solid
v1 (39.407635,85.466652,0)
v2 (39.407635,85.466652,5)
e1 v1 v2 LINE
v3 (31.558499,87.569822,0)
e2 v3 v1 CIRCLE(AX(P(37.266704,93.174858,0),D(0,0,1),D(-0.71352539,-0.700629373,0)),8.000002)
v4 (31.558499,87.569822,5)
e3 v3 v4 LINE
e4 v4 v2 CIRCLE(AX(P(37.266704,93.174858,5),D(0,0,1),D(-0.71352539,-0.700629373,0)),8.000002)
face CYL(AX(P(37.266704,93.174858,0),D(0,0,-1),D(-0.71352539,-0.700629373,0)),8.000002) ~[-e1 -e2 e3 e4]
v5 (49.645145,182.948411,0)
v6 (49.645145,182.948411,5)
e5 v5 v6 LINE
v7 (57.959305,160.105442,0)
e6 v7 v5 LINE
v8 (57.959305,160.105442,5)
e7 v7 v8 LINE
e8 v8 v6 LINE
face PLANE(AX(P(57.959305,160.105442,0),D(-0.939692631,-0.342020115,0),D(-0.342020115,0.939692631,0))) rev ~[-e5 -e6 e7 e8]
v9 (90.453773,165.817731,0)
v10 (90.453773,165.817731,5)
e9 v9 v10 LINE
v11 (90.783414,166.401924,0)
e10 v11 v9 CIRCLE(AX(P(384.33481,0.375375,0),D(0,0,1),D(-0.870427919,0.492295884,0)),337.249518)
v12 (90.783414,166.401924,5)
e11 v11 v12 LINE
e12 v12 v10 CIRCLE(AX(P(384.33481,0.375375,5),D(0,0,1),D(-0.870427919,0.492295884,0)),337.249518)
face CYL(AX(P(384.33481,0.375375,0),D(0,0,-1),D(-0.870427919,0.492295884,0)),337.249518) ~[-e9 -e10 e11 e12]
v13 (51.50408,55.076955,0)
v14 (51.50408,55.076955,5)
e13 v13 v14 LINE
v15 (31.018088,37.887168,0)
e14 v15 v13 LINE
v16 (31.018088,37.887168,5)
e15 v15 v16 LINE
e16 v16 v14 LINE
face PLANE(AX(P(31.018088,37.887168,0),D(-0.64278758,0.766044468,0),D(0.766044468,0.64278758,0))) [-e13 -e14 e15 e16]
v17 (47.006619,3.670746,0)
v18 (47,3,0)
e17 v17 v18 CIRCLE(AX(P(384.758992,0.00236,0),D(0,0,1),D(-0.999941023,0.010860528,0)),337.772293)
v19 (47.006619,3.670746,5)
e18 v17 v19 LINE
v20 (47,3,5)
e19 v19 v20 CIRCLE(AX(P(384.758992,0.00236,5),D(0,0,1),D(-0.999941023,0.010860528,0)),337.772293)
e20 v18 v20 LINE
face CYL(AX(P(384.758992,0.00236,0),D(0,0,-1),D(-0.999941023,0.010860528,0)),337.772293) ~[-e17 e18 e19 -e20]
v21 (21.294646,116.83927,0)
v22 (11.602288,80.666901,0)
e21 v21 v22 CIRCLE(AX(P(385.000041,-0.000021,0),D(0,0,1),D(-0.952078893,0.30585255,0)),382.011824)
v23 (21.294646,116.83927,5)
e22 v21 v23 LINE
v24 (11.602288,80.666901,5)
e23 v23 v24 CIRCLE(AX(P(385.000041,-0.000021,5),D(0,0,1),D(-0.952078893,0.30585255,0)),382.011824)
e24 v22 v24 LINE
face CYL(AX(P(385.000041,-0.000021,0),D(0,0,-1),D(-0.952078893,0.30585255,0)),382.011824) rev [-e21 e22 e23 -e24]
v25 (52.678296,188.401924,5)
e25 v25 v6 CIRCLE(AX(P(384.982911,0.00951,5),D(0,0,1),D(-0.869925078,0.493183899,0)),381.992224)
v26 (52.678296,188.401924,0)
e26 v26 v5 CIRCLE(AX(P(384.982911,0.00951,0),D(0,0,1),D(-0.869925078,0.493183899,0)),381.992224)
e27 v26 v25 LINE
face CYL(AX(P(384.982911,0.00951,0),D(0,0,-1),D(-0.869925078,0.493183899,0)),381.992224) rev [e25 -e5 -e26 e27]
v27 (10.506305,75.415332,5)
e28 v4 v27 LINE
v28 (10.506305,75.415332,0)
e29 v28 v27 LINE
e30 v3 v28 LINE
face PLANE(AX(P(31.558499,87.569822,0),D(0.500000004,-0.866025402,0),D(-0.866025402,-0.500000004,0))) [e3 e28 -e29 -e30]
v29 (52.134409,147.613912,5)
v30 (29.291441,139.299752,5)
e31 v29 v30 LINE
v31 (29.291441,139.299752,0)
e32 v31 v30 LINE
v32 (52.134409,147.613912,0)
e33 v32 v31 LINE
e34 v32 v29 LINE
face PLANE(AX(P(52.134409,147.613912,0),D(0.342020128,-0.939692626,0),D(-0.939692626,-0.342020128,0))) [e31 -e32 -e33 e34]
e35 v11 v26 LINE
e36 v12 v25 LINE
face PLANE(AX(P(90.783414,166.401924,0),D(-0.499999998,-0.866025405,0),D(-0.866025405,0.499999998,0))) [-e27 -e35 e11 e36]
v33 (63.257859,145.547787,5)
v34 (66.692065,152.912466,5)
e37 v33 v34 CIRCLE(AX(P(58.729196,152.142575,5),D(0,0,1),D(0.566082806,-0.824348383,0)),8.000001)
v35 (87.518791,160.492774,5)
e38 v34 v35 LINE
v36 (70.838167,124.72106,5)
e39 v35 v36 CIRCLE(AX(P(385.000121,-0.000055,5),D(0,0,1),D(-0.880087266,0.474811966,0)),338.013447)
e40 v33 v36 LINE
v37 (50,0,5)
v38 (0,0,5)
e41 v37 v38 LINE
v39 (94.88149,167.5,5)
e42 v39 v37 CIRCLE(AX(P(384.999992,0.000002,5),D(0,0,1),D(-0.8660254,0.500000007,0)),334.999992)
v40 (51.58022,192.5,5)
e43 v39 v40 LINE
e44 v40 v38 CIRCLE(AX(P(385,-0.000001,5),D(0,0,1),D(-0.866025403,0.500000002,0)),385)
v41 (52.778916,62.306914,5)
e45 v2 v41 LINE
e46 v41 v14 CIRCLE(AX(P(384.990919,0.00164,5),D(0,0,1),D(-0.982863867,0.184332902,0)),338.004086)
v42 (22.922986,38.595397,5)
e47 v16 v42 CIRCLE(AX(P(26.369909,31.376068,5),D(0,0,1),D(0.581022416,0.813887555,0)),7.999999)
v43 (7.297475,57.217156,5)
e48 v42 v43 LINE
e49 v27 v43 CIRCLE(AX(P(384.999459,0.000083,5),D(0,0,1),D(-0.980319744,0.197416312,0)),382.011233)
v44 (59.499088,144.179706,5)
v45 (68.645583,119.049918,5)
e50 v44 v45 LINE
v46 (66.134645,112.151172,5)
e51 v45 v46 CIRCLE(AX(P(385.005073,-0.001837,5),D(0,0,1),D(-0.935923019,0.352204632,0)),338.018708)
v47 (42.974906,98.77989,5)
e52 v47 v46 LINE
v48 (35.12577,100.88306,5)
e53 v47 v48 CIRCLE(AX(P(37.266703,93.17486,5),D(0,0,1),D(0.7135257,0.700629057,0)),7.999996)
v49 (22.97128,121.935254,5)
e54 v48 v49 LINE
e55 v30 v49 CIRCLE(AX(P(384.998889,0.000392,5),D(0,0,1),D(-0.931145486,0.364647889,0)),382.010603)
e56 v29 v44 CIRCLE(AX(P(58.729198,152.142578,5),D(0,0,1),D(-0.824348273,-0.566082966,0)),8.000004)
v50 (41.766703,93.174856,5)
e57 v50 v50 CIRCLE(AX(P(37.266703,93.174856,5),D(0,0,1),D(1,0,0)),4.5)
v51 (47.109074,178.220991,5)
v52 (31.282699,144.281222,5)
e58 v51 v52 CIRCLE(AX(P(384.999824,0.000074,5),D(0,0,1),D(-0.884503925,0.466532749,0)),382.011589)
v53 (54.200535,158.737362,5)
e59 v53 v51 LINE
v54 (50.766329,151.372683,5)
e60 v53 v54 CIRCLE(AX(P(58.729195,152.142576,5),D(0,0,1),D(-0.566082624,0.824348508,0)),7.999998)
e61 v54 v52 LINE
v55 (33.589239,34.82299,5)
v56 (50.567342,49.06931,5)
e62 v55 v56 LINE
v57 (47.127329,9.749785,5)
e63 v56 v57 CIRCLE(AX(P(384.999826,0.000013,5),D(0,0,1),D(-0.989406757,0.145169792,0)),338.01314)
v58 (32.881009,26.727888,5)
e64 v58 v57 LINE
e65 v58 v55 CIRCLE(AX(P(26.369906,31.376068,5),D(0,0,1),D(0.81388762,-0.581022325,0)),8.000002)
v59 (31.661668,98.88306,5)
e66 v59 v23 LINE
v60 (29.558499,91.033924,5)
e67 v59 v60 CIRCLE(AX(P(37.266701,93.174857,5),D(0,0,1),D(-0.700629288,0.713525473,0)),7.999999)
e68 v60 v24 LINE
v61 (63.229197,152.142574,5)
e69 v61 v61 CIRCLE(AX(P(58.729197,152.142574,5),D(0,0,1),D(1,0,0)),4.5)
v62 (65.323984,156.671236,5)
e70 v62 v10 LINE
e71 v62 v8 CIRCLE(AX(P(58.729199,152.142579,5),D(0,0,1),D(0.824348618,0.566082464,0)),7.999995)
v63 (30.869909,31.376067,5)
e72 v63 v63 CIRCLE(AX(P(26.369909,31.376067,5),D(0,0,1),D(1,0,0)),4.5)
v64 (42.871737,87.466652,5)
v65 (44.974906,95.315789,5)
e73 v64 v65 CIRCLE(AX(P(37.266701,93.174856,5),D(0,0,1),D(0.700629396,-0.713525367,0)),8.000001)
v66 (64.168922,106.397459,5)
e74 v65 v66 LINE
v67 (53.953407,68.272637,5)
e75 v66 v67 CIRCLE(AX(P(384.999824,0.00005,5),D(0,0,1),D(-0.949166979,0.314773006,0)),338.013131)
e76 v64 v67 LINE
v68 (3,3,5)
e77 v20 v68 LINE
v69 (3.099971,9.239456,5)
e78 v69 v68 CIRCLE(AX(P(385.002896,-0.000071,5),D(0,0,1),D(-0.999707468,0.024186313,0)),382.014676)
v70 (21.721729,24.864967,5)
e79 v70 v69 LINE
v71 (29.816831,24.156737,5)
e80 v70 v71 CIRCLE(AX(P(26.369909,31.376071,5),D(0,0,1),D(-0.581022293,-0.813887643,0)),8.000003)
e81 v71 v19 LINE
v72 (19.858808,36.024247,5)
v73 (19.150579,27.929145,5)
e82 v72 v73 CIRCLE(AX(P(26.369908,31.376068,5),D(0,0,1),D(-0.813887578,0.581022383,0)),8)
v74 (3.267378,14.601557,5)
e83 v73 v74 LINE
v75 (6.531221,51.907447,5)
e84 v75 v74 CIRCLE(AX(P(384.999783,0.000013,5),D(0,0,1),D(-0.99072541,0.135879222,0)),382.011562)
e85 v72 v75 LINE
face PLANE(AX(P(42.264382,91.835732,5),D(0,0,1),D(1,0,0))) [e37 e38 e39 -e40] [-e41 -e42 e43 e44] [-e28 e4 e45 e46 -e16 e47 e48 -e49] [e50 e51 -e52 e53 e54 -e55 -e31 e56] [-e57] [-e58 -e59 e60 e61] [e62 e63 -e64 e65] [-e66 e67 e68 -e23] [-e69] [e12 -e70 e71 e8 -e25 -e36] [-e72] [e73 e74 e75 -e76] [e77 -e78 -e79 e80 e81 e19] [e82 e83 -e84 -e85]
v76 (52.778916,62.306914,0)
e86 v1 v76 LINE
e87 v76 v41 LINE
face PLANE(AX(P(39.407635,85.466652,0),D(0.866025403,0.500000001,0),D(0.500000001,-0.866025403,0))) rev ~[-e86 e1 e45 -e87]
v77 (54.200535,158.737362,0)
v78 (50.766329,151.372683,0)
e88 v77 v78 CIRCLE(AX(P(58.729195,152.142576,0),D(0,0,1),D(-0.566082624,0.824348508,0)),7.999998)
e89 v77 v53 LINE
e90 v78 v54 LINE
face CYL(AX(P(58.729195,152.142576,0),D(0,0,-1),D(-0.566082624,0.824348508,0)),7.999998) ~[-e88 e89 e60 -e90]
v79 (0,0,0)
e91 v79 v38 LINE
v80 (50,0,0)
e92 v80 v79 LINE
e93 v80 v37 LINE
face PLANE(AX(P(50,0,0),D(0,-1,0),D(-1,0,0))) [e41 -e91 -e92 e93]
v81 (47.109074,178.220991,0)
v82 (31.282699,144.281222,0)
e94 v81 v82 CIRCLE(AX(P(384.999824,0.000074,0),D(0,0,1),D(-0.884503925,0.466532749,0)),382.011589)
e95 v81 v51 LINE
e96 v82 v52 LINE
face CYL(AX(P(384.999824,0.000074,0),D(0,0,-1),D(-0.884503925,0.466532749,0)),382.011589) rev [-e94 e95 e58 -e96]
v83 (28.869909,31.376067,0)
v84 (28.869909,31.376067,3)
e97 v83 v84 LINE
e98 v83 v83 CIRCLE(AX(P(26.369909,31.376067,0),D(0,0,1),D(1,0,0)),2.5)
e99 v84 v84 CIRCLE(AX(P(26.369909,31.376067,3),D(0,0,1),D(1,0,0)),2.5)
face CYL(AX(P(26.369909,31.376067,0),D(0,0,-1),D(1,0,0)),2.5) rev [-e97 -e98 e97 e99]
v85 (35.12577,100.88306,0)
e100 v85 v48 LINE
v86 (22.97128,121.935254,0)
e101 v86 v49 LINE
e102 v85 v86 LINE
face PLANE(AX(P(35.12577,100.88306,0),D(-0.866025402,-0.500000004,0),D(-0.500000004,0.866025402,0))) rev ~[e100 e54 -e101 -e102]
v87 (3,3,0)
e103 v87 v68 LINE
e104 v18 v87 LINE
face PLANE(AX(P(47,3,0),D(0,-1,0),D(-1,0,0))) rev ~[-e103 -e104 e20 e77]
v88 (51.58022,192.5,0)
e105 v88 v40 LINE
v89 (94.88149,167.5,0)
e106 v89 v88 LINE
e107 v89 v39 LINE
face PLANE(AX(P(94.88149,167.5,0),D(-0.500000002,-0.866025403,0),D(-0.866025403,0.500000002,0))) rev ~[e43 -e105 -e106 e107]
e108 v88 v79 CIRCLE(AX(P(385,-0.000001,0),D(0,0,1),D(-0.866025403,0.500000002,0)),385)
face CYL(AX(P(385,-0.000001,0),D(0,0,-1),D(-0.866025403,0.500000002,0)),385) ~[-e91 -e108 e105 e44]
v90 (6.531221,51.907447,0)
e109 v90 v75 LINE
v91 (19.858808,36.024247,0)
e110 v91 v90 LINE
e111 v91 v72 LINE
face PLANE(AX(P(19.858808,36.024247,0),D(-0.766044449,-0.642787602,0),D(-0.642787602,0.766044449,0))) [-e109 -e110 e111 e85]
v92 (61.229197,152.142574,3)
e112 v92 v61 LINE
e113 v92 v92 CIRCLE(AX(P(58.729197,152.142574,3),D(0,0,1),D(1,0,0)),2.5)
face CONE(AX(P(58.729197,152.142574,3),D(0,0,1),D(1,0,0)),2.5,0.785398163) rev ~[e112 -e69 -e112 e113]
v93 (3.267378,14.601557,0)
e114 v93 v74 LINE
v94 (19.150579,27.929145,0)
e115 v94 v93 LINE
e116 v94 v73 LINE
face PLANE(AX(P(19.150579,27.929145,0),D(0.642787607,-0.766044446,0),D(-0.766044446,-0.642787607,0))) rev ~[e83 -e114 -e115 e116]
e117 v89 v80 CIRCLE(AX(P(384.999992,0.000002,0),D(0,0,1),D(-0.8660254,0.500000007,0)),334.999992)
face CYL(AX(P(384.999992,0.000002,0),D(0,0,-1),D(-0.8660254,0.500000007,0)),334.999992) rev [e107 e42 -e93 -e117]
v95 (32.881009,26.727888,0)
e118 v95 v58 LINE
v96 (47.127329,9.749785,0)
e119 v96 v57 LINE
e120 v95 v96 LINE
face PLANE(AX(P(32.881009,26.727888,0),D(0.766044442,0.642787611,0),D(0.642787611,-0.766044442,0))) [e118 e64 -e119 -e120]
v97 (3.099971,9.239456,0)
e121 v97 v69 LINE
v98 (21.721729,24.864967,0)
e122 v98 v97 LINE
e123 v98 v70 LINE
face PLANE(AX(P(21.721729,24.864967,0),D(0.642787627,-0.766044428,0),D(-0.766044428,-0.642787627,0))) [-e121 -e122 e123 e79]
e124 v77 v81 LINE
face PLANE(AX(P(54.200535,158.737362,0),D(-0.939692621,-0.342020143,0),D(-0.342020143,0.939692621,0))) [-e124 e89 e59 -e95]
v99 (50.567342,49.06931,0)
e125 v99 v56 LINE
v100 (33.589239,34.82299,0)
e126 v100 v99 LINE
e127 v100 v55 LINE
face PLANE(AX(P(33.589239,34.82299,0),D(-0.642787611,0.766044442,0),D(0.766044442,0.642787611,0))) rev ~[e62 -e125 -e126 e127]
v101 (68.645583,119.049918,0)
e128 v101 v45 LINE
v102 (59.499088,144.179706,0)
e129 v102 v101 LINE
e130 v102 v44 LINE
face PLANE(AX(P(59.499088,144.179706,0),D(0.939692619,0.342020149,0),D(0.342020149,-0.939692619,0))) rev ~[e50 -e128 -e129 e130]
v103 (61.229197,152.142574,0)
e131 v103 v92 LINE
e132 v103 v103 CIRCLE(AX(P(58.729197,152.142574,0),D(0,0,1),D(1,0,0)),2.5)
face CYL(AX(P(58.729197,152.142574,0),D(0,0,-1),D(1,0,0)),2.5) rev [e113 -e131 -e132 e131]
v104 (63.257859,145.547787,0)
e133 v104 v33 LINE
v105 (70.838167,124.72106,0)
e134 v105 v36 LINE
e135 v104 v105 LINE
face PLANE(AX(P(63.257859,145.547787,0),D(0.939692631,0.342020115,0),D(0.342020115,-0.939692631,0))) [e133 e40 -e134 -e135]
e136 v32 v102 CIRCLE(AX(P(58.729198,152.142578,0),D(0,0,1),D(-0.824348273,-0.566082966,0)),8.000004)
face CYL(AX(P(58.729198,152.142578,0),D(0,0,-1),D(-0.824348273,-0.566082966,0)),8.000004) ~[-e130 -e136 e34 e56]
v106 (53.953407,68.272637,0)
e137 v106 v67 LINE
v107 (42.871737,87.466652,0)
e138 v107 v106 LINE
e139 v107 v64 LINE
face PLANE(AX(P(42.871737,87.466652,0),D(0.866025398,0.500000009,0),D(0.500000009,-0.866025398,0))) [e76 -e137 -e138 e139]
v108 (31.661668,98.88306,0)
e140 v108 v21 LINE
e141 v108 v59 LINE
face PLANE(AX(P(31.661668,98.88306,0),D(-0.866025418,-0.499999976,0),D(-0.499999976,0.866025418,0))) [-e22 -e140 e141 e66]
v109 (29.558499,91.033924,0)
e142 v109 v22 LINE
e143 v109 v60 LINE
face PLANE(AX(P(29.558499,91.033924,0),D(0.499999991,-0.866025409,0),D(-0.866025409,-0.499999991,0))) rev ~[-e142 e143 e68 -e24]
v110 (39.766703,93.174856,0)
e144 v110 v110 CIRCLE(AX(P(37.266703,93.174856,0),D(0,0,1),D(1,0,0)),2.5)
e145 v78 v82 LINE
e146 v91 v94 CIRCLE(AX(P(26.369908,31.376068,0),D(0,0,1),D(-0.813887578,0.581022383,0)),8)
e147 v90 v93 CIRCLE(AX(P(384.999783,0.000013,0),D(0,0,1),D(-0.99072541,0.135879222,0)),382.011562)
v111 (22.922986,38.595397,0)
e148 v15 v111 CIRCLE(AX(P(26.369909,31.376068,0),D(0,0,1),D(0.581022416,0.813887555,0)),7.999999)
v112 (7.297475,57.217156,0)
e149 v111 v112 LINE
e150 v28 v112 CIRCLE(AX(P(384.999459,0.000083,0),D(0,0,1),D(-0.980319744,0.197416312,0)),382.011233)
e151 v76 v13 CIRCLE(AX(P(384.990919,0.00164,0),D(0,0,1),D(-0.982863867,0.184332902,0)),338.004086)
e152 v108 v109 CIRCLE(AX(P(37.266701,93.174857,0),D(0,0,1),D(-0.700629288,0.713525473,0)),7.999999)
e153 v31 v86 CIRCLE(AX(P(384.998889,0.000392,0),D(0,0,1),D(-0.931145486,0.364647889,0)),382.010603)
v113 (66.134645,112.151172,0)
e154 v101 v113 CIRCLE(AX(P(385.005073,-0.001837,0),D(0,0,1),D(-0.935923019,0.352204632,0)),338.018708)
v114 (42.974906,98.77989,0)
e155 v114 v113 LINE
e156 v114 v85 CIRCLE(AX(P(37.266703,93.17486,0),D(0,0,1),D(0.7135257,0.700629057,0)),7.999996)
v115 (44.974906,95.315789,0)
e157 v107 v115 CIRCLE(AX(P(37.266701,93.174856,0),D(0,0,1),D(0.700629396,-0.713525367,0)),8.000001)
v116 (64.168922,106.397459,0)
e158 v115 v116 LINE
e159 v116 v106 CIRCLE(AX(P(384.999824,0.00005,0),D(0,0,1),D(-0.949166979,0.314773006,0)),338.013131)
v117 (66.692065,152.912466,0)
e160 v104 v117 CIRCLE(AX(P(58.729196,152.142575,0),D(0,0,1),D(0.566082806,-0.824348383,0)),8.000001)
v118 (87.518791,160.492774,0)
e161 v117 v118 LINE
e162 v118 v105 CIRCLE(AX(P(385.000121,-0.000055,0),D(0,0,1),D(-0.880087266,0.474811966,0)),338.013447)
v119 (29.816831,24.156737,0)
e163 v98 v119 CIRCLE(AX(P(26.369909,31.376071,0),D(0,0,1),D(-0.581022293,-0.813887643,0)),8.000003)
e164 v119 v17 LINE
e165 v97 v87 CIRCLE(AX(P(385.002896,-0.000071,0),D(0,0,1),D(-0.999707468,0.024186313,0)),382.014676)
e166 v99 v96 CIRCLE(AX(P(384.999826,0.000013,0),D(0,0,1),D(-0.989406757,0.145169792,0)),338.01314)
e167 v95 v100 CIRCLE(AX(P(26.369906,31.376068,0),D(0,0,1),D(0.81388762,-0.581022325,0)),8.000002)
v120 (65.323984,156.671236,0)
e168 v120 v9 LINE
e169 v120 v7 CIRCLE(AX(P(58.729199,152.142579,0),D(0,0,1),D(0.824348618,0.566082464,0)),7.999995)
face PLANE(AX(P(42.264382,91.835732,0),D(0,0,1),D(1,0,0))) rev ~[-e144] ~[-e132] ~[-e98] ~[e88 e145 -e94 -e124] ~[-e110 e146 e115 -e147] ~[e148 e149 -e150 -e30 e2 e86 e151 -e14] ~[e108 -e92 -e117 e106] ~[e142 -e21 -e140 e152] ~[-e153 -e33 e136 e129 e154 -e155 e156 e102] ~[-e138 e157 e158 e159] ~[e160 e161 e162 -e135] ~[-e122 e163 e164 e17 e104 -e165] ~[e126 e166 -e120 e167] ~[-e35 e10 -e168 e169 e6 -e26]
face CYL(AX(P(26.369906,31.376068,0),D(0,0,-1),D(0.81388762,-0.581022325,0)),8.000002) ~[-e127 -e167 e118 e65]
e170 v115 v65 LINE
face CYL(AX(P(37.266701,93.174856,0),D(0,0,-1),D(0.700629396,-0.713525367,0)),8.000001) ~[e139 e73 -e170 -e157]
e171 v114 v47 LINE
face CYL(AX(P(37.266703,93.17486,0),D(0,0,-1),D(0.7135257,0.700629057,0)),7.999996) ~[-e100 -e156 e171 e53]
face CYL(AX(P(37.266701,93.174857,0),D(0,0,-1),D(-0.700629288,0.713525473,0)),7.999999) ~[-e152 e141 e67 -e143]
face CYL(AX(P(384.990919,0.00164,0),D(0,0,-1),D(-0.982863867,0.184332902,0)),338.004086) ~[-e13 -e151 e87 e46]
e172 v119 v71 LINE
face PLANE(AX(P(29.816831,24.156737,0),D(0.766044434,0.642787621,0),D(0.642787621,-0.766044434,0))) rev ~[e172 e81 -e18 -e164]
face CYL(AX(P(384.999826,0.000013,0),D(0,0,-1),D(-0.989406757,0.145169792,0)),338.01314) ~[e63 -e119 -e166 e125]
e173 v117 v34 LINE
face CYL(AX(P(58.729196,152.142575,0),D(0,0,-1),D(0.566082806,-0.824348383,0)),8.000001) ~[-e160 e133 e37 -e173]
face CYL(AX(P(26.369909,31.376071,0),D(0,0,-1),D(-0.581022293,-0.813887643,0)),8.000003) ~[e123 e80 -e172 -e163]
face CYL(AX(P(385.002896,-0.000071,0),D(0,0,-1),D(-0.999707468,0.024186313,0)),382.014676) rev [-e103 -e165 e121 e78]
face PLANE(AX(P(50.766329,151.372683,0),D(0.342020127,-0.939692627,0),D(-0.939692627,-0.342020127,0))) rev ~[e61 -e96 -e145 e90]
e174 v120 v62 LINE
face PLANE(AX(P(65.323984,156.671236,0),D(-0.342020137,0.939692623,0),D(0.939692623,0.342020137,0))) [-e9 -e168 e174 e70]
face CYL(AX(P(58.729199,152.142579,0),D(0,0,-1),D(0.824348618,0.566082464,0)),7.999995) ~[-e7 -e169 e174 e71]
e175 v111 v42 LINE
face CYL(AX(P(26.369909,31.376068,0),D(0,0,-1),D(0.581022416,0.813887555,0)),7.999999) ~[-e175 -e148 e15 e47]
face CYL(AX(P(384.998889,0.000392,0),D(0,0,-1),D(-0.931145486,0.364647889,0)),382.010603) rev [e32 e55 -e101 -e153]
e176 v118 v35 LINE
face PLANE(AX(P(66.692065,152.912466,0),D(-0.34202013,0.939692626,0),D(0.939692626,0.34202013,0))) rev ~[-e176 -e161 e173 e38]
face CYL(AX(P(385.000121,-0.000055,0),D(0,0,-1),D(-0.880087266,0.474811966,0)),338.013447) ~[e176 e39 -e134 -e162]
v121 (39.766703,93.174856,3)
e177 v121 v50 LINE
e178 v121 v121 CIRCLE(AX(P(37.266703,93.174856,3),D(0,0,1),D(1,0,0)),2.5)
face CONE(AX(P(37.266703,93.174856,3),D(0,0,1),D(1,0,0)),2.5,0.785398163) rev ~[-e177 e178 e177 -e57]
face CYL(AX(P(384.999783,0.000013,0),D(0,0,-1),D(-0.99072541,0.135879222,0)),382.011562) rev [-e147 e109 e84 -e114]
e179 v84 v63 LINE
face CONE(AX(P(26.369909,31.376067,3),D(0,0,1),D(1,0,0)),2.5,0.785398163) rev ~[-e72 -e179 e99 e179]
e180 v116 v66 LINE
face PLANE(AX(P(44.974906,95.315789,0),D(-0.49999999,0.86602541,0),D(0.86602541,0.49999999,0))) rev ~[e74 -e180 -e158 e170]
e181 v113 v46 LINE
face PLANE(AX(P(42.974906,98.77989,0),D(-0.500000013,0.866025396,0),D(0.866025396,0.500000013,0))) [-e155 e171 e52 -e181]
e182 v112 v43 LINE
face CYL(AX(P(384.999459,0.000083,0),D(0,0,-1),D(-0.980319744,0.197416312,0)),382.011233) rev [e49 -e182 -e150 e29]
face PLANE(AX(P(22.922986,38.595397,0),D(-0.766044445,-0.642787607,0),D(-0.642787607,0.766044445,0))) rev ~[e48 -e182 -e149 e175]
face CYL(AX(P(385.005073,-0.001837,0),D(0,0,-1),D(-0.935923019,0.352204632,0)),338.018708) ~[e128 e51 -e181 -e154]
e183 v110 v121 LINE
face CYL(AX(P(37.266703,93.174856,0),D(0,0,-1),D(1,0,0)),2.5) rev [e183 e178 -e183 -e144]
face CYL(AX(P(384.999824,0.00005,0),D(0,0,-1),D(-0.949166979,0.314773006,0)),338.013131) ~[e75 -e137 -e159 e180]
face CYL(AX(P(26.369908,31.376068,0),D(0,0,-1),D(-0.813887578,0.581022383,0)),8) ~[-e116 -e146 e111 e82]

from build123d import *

# Parameters (mm, degrees)
SKETCH_R     = 2.5
PAD_DEPTH    = 5
CHAMFER_SIZE = 2


with BuildPart() as part:
    # Sketch → Pad (new body)
    with BuildSketch(Plane.XY):
        with BuildLine():
            ThreePointArc((51.58022, 192.5), (13.118557, 99.645332), (0, 0))
            Line((50, 0), (0, 0))
            ThreePointArc((94.88149, 167.5), (61.414848, 86.70438), (50, 0))
            Line((94.88149, 167.5), (51.58022, 192.5))
        make_face()
        with Locations((26.369909, 31.376067)):
            Circle(SKETCH_R, mode=Mode.SUBTRACT)
        with Locations((58.729197, 152.142574)):
            Circle(SKETCH_R, mode=Mode.SUBTRACT)
        with Locations((37.266703, 93.174856)):
            Circle(SKETCH_R, mode=Mode.SUBTRACT)
        with BuildLine():
            ThreePointArc((52.678296, 188.401924), (51.150584, 185.681361), (49.645145, 182.948411))
            Line((57.959305, 160.105442), (49.645145, 182.948411))
            ThreePointArc((65.323984, 156.671236), (62.110143, 159.393037), (57.959305, 160.105442))
            Line((65.323984, 156.671236), (90.453773, 165.817731))
            ThreePointArc((90.783414, 166.401924), (90.618448, 166.109909), (90.453773, 165.817731))
            Line((90.783414, 166.401924), (52.678296, 188.401924))
        make_face(mode=Mode.SUBTRACT)
        with BuildLine():
            Line((47, 3), (3, 3))
            ThreePointArc((3.099971, 9.239456), (3.037245, 6.119932), (3, 3))
            Line((21.721729, 24.864967), (3.099971, 9.239456))
            ThreePointArc((21.721729, 24.864967), (25.672663, 23.40651), (29.816831, 24.156737))
            Line((29.816831, 24.156737), (47.006619, 3.670746))
            ThreePointArc((47.006619, 3.670746), (47.003143, 3.335375), (47, 3))
        make_face(mode=Mode.SUBTRACT)
        with BuildLine():
            ThreePointArc((19.858808, 36.024247), (18.400351, 32.073313), (19.150579, 27.929145))
            Line((19.150579, 27.929145), (3.267378, 14.601557))
            ThreePointArc((6.531221, 51.907447), (4.44189, 33.29452), (3.267378, 14.601557))
            Line((19.858808, 36.024247), (6.531221, 51.907447))
        make_face(mode=Mode.SUBTRACT)
        with BuildLine():
            Line((22.922986, 38.595397), (7.297475, 57.217156))
            ThreePointArc((10.506305, 75.415332), (8.791837, 66.335649), (7.297475, 57.217156))
            Line((31.558499, 87.569822), (10.506305, 75.415332))
            ThreePointArc((31.558499, 87.569822), (35.19615, 85.44745), (39.407635, 85.466652))
            Line((39.407635, 85.466652), (52.778916, 62.306914))
            ThreePointArc((52.778916, 62.306914), (52.121868, 58.695396), (51.50408, 55.076955))
            Line((31.018088, 37.887168), (51.50408, 55.076955))
            ThreePointArc((31.018088, 37.887168), (27.067155, 39.345625), (22.922986, 38.595397))
        make_face(mode=Mode.SUBTRACT)
        with BuildLine():
            Line((32.881009, 26.727888), (47.127329, 9.749785))
            ThreePointArc((50.567342, 49.06931), (48.272929, 29.459801), (47.127329, 9.749785))
            Line((33.589239, 34.82299), (50.567342, 49.06931))
            ThreePointArc((32.881009, 26.727888), (34.339466, 30.678821), (33.589239, 34.82299))
        make_face(mode=Mode.SUBTRACT)
        with BuildLine():
            ThreePointArc((54.200535, 158.737362), (51.478734, 155.52352), (50.766329, 151.372683))
            Line((50.766329, 151.372683), (31.282699, 144.281222))
            ThreePointArc((47.109074, 178.220991), (38.779749, 161.445154), (31.282699, 144.281222))
            Line((54.200535, 158.737362), (47.109074, 178.220991))
        make_face(mode=Mode.SUBTRACT)
        with BuildLine():
            Line((52.134409, 147.613912), (29.291441, 139.299752))
            ThreePointArc((29.291441, 139.299752), (26.026349, 130.655724), (22.97128, 121.935254))
            Line((35.12577, 100.88306), (22.97128, 121.935254))
            ThreePointArc((42.974906, 98.77989), (39.337255, 100.902263), (35.12577, 100.88306))
            Line((42.974906, 98.77989), (66.134645, 112.151172))
            ThreePointArc((68.645583, 119.049918), (67.371384, 115.607362), (66.134645, 112.151172))
            Line((59.499088, 144.179706), (68.645583, 119.049918))
            ThreePointArc((52.134409, 147.613912), (55.348251, 144.892112), (59.499088, 144.179706))
        make_face(mode=Mode.SUBTRACT)
        with BuildLine():
            Line((63.257859, 145.547787), (70.838167, 124.72106))
            ThreePointArc((87.518791, 160.492774), (78.655902, 142.850599), (70.838167, 124.72106))
            Line((66.692065, 152.912466), (87.518791, 160.492774))
            ThreePointArc((63.257859, 145.547787), (65.979659, 148.761628), (66.692065, 152.912466))
        make_face(mode=Mode.SUBTRACT)
        with BuildLine():
            Line((42.871737, 87.466652), (53.953407, 68.272637))
            ThreePointArc((64.168922, 106.397459), (58.504211, 87.484283), (53.953407, 68.272637))
            Line((44.974906, 95.315789), (64.168922, 106.397459))
            ThreePointArc((42.871737, 87.466652), (44.994109, 91.104304), (44.974906, 95.315789))
        make_face(mode=Mode.SUBTRACT)
        with BuildLine():
            Line((29.558499, 91.033924), (11.602288, 80.666901))
            ThreePointArc((21.294646, 116.83927), (16.004956, 98.871924), (11.602288, 80.666901))
            Line((31.661668, 98.88306), (21.294646, 116.83927))
            ThreePointArc((31.661668, 98.88306), (29.539296, 95.245409), (29.558499, 91.033924))
        make_face(mode=Mode.SUBTRACT)
    extrude(amount=PAD_DEPTH)

    # Chamfer
    chamfer_edges = [part.edges().sort_by_distance(p)[0] for p in [
        (23.869909, 31.376067, 5),
        (34.766703, 93.174856, 5),
        (56.229197, 152.142574, 5),
    ]]
    chamfer(chamfer_edges, length=CHAMFER_SIZE)


solid = part.part
